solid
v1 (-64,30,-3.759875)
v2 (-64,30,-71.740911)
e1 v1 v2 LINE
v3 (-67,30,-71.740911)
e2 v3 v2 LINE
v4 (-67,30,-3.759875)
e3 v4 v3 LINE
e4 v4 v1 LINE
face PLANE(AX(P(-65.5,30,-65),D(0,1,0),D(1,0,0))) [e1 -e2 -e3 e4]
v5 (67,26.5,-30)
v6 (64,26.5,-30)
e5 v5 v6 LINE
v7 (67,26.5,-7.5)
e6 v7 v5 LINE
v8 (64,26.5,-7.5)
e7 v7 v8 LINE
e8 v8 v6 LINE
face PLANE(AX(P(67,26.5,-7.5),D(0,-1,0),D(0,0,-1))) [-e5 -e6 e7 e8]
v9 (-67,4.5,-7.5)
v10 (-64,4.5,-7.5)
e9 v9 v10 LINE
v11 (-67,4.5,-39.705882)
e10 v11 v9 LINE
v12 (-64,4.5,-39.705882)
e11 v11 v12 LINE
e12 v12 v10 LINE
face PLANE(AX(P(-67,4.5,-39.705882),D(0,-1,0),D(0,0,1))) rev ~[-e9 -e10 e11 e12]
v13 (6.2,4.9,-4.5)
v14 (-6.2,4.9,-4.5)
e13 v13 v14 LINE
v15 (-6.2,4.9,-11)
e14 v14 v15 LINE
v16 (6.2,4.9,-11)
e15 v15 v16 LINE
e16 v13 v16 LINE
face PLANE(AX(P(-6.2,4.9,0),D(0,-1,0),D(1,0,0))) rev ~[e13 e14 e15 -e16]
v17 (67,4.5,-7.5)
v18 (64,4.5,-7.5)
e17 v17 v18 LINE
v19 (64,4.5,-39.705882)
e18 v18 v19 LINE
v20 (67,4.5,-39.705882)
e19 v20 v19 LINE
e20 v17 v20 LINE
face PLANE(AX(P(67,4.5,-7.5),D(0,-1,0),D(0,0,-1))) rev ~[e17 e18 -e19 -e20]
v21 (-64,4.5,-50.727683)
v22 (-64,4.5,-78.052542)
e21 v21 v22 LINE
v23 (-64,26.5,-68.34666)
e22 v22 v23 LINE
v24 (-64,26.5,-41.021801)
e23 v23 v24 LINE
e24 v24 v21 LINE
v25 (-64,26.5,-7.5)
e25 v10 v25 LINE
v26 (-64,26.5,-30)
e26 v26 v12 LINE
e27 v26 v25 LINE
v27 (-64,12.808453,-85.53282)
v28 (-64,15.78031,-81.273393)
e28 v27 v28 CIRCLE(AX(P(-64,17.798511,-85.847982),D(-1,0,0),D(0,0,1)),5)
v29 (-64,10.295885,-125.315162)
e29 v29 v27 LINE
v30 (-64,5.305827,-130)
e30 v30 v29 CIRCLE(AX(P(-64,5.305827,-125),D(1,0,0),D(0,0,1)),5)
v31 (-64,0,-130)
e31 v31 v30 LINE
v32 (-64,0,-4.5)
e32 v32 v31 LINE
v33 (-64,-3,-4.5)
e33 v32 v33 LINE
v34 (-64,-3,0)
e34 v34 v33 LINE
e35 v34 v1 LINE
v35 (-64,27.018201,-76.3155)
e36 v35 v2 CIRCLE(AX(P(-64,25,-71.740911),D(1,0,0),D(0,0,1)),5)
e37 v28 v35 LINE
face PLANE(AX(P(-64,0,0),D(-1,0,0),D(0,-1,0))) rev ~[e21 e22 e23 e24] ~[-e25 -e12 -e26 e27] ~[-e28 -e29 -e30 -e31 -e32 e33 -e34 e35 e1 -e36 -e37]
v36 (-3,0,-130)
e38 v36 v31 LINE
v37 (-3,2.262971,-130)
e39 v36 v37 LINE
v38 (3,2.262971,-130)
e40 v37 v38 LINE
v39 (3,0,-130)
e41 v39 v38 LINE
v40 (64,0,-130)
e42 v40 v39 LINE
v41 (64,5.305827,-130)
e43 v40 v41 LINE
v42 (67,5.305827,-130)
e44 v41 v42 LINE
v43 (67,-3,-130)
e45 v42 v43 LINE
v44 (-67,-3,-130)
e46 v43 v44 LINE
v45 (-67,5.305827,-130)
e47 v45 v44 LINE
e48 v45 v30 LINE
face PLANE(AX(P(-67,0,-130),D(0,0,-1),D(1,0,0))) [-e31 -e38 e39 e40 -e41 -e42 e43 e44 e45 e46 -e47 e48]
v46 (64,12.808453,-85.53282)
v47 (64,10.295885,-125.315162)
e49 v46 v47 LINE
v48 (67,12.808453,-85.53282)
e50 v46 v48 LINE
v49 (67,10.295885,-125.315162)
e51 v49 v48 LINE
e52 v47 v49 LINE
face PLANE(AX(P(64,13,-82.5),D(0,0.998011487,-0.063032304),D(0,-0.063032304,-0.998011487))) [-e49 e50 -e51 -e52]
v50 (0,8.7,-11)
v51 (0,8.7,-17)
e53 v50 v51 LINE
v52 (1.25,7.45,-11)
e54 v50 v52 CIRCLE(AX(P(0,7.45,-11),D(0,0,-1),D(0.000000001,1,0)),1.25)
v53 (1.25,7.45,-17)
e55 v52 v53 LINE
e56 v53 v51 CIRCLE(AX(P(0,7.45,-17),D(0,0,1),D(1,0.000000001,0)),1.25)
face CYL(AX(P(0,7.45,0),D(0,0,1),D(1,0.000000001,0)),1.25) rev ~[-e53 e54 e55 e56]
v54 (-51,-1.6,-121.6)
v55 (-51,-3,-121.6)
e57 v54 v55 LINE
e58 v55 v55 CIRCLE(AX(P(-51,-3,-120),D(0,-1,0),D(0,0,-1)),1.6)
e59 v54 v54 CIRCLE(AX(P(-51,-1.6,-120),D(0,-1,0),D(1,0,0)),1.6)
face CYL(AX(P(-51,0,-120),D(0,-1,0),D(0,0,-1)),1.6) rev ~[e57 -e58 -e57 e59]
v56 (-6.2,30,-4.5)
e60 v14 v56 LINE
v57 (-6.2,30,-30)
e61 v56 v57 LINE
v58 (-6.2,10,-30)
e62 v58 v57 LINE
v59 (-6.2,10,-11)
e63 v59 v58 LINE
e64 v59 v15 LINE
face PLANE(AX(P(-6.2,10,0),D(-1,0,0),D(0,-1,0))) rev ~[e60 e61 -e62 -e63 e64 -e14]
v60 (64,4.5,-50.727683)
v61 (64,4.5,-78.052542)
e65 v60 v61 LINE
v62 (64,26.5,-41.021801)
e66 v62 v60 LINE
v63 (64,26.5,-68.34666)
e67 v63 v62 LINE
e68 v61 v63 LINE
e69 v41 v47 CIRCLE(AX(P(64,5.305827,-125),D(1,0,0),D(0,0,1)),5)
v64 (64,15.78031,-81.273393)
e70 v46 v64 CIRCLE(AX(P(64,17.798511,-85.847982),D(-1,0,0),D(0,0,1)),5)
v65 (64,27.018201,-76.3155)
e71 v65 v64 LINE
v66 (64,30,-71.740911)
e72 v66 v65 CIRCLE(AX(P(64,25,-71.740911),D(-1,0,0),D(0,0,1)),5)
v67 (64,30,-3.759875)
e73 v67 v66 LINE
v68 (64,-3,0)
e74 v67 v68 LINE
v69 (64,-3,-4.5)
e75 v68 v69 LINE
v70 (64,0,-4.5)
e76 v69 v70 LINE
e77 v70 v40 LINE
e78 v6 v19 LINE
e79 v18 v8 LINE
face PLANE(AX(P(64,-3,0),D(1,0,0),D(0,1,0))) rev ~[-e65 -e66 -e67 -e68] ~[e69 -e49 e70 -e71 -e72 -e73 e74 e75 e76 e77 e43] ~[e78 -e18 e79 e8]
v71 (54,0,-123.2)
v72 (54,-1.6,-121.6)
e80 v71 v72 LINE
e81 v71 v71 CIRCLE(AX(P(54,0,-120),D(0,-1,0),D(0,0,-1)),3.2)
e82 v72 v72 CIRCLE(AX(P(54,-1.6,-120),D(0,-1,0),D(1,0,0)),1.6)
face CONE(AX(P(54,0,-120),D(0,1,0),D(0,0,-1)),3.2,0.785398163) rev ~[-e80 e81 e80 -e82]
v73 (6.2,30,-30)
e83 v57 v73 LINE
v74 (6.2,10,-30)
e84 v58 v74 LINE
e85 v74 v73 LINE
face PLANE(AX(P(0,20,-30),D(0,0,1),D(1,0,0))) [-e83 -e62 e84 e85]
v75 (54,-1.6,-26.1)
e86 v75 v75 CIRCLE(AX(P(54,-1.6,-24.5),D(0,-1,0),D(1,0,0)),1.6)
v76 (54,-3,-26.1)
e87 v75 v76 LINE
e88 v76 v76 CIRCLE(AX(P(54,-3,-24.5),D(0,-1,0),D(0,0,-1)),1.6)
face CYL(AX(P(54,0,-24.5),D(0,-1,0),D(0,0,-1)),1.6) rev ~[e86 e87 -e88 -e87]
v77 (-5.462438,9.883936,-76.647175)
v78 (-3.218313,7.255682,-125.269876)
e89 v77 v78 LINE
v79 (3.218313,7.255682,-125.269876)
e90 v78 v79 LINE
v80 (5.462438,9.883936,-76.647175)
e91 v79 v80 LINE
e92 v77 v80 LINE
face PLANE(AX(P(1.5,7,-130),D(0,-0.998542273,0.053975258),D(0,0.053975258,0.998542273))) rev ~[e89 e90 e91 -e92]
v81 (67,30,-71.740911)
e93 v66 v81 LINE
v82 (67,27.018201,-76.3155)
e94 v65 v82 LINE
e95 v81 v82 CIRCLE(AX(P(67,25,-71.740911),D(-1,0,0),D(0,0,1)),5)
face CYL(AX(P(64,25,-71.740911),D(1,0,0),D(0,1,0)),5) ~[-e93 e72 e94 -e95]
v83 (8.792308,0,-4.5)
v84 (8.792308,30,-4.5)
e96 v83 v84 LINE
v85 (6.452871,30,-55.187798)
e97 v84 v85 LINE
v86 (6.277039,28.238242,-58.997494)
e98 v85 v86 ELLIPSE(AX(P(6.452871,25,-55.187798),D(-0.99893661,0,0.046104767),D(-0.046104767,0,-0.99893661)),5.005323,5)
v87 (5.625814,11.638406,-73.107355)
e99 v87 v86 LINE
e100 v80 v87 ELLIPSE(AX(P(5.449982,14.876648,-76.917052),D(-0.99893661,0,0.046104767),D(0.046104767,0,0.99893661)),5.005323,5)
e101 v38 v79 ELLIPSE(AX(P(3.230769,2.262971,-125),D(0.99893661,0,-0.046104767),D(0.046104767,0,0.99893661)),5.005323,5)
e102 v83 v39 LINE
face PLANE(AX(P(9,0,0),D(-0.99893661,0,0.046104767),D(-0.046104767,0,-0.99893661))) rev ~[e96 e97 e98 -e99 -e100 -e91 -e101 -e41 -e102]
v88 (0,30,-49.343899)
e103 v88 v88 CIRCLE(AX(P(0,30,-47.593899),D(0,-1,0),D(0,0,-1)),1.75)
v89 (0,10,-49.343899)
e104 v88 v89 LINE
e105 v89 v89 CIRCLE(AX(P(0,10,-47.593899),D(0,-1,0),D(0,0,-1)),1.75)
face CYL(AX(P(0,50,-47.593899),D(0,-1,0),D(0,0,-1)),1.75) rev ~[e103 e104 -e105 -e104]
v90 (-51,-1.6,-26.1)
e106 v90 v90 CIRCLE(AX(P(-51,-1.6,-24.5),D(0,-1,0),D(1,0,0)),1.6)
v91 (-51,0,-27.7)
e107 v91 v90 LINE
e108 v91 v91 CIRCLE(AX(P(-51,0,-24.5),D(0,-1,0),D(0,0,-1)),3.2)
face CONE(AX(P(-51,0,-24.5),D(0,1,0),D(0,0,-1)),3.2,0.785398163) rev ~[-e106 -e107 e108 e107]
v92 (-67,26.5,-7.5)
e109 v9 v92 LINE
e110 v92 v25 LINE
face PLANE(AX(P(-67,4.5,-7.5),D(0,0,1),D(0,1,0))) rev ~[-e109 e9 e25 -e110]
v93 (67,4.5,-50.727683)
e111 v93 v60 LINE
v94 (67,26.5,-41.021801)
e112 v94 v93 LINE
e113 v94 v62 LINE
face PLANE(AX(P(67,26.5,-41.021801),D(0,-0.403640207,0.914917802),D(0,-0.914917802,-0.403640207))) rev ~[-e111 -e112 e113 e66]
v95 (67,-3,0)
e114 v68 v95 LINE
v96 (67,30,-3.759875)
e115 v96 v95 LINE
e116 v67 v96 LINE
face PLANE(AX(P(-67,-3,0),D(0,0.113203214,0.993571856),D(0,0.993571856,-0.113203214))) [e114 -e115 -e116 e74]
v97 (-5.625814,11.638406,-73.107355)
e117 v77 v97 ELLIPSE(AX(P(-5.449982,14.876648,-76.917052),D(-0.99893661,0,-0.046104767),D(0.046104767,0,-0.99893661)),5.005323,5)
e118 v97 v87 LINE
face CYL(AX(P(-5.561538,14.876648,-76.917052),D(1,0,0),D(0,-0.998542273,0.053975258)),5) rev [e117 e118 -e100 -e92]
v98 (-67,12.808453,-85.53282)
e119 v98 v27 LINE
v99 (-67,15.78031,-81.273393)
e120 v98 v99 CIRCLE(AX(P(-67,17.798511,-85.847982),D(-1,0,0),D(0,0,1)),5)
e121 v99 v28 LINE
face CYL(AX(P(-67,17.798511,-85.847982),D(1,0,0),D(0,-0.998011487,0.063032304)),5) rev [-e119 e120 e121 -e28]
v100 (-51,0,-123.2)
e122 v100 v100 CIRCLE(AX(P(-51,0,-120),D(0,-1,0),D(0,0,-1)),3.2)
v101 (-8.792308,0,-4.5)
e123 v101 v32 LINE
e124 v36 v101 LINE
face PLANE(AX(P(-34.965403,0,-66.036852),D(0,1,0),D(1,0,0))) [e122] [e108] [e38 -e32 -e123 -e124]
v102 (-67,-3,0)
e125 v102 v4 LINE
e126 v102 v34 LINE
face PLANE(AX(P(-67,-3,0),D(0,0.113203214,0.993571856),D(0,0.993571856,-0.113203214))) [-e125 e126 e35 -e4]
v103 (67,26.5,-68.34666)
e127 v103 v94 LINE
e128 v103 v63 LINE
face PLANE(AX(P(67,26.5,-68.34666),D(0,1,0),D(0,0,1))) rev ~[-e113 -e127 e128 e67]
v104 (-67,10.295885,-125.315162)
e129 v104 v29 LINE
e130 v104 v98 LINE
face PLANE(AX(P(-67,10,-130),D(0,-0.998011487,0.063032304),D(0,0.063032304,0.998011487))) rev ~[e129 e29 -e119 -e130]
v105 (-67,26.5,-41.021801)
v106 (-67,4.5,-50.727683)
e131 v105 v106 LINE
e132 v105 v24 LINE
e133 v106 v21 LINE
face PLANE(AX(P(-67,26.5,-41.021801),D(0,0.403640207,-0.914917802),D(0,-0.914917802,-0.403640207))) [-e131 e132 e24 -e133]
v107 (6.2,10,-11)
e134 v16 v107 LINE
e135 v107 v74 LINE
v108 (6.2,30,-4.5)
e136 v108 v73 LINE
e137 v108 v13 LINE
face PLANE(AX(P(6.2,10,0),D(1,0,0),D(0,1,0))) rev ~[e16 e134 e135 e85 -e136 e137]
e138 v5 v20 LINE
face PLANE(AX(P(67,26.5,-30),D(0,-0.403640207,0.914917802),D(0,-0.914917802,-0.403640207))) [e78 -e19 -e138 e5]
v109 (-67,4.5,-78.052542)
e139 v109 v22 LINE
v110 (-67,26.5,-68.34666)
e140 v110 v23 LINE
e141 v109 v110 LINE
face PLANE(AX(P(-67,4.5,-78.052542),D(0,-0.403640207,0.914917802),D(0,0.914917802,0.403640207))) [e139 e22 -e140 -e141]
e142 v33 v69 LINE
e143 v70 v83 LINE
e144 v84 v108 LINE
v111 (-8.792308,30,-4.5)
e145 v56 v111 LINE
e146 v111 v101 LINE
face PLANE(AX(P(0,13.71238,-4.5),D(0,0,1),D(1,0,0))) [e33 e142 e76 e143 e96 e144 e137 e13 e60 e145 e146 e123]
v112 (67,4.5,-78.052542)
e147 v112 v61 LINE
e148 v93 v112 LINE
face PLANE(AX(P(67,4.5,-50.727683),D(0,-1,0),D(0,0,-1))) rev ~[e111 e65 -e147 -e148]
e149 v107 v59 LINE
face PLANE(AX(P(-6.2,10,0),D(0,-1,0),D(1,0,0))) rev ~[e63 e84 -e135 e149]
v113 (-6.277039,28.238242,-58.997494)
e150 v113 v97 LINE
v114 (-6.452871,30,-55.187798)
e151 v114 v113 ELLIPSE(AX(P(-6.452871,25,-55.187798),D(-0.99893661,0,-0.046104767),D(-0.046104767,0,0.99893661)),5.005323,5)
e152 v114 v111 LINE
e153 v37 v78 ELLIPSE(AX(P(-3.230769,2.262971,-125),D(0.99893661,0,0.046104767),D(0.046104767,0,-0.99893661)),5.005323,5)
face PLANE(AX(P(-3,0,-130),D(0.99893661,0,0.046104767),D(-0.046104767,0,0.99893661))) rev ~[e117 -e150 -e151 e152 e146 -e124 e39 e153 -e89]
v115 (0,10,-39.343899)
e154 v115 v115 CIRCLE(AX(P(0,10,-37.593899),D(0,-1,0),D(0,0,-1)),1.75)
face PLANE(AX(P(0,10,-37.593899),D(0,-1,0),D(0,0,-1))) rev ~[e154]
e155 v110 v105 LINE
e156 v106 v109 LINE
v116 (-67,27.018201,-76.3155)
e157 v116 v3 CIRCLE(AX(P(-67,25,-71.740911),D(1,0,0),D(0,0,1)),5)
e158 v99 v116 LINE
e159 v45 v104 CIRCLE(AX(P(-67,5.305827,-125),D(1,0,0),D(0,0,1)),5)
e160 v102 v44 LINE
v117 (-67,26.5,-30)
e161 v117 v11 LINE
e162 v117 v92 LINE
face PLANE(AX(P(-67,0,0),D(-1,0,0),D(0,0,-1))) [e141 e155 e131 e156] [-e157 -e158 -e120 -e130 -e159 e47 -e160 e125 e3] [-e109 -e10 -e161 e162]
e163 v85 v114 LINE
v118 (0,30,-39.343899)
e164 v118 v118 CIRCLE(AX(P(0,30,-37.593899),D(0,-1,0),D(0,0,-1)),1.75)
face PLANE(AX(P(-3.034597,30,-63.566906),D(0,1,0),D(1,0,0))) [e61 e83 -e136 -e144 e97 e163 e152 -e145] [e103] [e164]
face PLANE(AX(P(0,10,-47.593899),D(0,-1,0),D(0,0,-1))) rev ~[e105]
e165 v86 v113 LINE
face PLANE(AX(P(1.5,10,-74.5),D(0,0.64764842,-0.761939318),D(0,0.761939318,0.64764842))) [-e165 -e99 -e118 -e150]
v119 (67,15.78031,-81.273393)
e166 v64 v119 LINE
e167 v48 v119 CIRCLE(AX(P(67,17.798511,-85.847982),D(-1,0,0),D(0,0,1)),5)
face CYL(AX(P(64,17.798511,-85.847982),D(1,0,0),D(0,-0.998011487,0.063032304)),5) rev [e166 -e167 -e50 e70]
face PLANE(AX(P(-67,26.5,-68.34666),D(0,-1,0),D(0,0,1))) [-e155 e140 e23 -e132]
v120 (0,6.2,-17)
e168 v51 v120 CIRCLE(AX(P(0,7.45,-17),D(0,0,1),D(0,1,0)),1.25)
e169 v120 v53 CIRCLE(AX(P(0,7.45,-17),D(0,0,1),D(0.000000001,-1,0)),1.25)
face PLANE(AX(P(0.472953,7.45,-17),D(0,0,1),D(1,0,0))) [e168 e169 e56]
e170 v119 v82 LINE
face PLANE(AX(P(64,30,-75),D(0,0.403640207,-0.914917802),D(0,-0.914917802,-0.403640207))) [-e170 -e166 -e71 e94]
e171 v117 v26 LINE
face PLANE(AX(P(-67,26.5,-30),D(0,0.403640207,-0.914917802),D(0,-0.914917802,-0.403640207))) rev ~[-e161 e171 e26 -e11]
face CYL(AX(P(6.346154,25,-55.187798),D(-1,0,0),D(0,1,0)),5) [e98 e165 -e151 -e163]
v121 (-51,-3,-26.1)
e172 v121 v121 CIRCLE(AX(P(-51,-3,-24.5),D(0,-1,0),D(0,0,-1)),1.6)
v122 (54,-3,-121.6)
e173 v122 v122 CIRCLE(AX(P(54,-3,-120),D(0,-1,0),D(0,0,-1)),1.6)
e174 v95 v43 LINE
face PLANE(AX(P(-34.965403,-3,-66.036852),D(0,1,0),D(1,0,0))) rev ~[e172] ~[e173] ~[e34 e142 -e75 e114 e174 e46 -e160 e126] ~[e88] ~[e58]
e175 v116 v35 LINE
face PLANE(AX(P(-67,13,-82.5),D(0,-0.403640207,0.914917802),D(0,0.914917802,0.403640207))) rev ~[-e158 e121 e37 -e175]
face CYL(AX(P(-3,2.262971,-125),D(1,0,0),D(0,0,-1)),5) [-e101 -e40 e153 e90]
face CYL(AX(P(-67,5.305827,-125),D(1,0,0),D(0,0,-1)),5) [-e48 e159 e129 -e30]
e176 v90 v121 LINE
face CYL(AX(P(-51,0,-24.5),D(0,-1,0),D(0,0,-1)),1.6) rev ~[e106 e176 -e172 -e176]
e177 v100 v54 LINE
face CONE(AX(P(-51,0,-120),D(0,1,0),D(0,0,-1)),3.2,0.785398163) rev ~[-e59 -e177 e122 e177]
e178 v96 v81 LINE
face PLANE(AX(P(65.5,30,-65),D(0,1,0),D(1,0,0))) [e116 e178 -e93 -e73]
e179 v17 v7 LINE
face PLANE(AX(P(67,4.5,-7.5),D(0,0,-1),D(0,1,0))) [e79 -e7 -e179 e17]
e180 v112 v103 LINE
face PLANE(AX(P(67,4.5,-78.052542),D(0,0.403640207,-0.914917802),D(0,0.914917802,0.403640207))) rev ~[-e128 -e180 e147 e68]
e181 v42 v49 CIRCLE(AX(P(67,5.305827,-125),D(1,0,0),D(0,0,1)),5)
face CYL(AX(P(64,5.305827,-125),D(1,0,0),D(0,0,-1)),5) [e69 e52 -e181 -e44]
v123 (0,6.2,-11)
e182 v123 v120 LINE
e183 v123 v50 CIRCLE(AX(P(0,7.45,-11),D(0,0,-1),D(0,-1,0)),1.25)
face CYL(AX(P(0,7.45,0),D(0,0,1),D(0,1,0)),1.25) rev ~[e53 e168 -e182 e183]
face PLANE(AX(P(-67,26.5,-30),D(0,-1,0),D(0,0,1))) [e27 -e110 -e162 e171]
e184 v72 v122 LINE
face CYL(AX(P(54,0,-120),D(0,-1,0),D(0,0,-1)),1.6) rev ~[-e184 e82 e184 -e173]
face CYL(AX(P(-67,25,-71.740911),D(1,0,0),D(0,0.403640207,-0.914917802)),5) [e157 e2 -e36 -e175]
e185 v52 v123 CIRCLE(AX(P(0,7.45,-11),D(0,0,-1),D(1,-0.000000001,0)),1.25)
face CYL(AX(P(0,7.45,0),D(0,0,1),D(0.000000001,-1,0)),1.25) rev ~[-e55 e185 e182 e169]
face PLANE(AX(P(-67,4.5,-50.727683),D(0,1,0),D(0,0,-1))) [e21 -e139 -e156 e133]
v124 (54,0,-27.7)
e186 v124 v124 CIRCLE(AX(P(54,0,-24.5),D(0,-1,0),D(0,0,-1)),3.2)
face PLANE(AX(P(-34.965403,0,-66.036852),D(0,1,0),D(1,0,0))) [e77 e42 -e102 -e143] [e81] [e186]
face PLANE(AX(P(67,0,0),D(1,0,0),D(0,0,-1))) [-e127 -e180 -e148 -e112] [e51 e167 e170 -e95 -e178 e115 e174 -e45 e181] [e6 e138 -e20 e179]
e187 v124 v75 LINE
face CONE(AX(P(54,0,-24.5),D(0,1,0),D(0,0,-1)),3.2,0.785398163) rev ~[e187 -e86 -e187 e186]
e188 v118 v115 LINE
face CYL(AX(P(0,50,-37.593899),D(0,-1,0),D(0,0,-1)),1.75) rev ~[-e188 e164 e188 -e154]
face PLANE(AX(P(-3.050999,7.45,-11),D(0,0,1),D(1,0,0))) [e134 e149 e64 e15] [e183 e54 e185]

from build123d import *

# Parameters (mm, degrees)
SKETCH2_W                      = 3
SKETCH2_H                      = 130
BOSS_EXTRUDE1_DEPTH            = 3
SKETCH2_3_W                    = 3
SKETCH2_3_H                    = 130
BOSS_EXTRUDE2_DEPTH            = 30
CUT_EXTRUDE2_DEPTH             = 3
CUT_EXTRUDE3_DEPTH             = 190.092569923
CUT_EXTRUDE3_DEPTH_BACK        = 3
CUT_EXTRUDE4_REACH             = 151.812
CUT_EXTRUDE4_DIRECTION_2_REACH = 151.812
SKETCH9_W                      = 12.4
SKETCH9_H                      = 20
CUT_EXTRUDE5_DEPTH             = 30
CUT_EXTRUDE6_DEPTH             = 11
CUT_EXTRUDE7_DEPTH             = 4.5
CUT_EXTRUDE8_DEPTH             = 17
SKETCH3_W                      = 22.5
SKETCH3_H                      = 22
CUT_EXTRUDE1_DEPTH             = 3
SKETCH10_W                     = 22.5
SKETCH10_H                     = 22
CUT_EXTRUDE9_DEPTH             = 3
CUT_EXTRUDE10_DEPTH            = 190.092569923
FILLET1_R                      = 5
HOLE1_D                        = 3.5
HOLE1_DEPTH                    = 20
HOLE2_D                        = 3.2
HOLE2_DEPTH                    = 4.737087713
HOLE2_CSINK_D                  = 6.4
HOLE2_CSINK_ANGLE              = 90


with BuildPart() as part:
    # Sketch2 → Boss-Extrude1 (new body)
    with BuildSketch(Plane(origin=(0, 0, 0), x_dir=(1, 0, 0), z_dir=(0, 1, 0))):
        Polygon((-3, 130), (-64, 130), (-64, 0), (-9, 0), align=None)
        with Locations((-65.5, 65)):
            Rectangle(SKETCH2_W, SKETCH2_H)
        Polygon((0, 130), (-3, 130), (-9, 0), (0, 0), align=None)
        Polygon((3, 130), (0, 130), (0, 0), (9, 0), align=None)
        Polygon((64, 130), (3, 130), (9, 0), (64, 0), align=None)
        with Locations((65.5, 65)):
            Rectangle(SKETCH2_W, SKETCH2_H)
    extrude(amount=-BOSS_EXTRUDE1_DEPTH)

    # Sketch2<3> → Boss-Extrude2 (add)
    with BuildSketch(Plane(origin=(0, 0, 0), x_dir=(1, 0, 0), z_dir=(0, 1, 0))):
        Polygon((0, 130), (-3, 130), (-9, 0), (0, 0), align=None)
        Polygon((3, 130), (0, 130), (0, 0), (9, 0), align=None)
        with Locations((-65.5, 65)):
            Rectangle(SKETCH2_3_W, SKETCH2_3_H)
        with Locations((65.5, 65)):
            Rectangle(SKETCH2_3_W, SKETCH2_3_H)
    extrude(amount=BOSS_EXTRUDE2_DEPTH)

    # Sketch5 → Cut-Extrude2 (cut)
    with BuildSketch(Plane.ZY.offset(67)):
        Polygon((-130, 30), (-130, 10), (-82.5, 13), (-75, 30), align=None)
    extrude(amount=-CUT_EXTRUDE2_DEPTH, mode=Mode.SUBTRACT)

    # Sketch6 → Cut-Extrude3 (cut, two sides: drawn at the far end of the back side and taken through both)
    with BuildSketch(Plane(origin=(67, 0, 0), x_dir=(0, 0, -1), z_dir=(1, 0, 0)).offset(-CUT_EXTRUDE3_DEPTH_BACK)):
        Polygon((75, 30), (82.5, 13), (130, 10), (130, 30), align=None)
    extrude(amount=CUT_EXTRUDE3_DEPTH + CUT_EXTRUDE3_DEPTH_BACK, mode=Mode.SUBTRACT)

    # Cut-Extrude4: up to this plane
    cut_extrude4_end = Plane(origin=(-8.980869154, 30, -0.414501653), z_dir=(0.9989366098486855, 0, 0.04610476660840086))
    # Sketch7 → Cut-Extrude4 (cut, up to the surface)
    with BuildSketch(Plane(origin=(1.5, 0, -0.187149168), x_dir=(0, 0, -1), z_dir=(1, 0, 0)), mode=Mode.PRIVATE) as cut_extrude4_sk1:
        Polygon((129.812850832, 7), (74.312850832, 10), (57.312850832, 30), (129.812850832, 30), align=None)
    cut_extrude4_tool1 = split(extrude(cut_extrude4_sk1.sketch, amount=-CUT_EXTRUDE4_REACH, mode=Mode.PRIVATE), bisect_by=cut_extrude4_end, keep=Keep.BOTH, mode=Mode.PRIVATE)
    add(cut_extrude4_tool1.solids().sort_by_distance((1.5, 19.743933, -98.647747))[0], mode=Mode.SUBTRACT)

    # Cut-Extrude4 direction 2: up to this plane
    cut_extrude4_direction_2_end = Plane(origin=(8.980869154, 30, -0.414501653), z_dir=(0.9989366098486855, 0, -0.04610476660840086))
    # Sketch7 → Cut-Extrude4 direction 2 (cut, up to the surface)
    with BuildSketch(Plane(origin=(1.5, 0, -0.187149168), x_dir=(0, 0, -1), z_dir=(1, 0, 0)), mode=Mode.PRIVATE) as cut_extrude4_direction_2_sk1:
        Polygon((129.812850832, 7), (74.312850832, 10), (57.312850832, 30), (129.812850832, 30), align=None)
    cut_extrude4_direction_2_tool1 = split(extrude(cut_extrude4_direction_2_sk1.sketch, amount=CUT_EXTRUDE4_DIRECTION_2_REACH, mode=Mode.PRIVATE), bisect_by=cut_extrude4_direction_2_end, keep=Keep.BOTH, mode=Mode.PRIVATE)
    add(cut_extrude4_direction_2_tool1.solids().sort_by_distance((1.5, 19.743933, -98.647747))[0], mode=Mode.SUBTRACT)

    # Sketch9 → Cut-Extrude5 (cut)
    with BuildSketch(Plane.XY):
        with Locations((0, 20)):
            Rectangle(SKETCH9_W, SKETCH9_H)
    extrude(amount=-CUT_EXTRUDE5_DEPTH, mode=Mode.SUBTRACT)

    # Sketch9<3> → Cut-Extrude6 (cut)
    with BuildSketch(Plane.XY):
        with BuildLine():
            Line((0, 10), (-6.2, 10))
            Line((-6.2, 10), (-6.2, 4.9))
            Line((-6.2, 4.9), (0, 4.9))
            Line((0, 4.9), (0, 6.2))
            ThreePointArc((0, 6.2), (-1.25, 7.45), (0, 8.7))
            Line((0, 8.7), (0, 10))
        make_face()
        with BuildLine():
            Line((6.2, 4.9), (6.2, 10))
            Line((6.2, 10), (0, 10))
            Line((0, 10), (0, 8.7))
            ThreePointArc((0, 8.7), (0.883883476, 8.333883476), (1.25, 7.45))
            ThreePointArc((1.25, 7.45), (0.883883476, 6.566116524), (0, 6.2))
            Line((0, 6.2), (0, 4.9))
            Line((0, 4.9), (6.2, 4.9))
        make_face()
    extrude(amount=-CUT_EXTRUDE6_DEPTH, mode=Mode.SUBTRACT)

    # Sketch9<4> → Cut-Extrude7 (cut)
    with BuildSketch(Plane.XY):
        Polygon((-6.2, 10), (-6.2, 30), (-9, 30), (-9, 0), (9, 0), (9, 30), (6.2, 30), (6.2, 10), (6.2, 4.9), (-6.2, 4.9), align=None)
        Polygon((9, 0), (-9, 0), (-64, 0), (-64, -3), (64, -3), (64, 0), align=None)
    extrude(amount=-CUT_EXTRUDE7_DEPTH, mode=Mode.SUBTRACT)

    # Sketch9<5> → Cut-Extrude8 (cut)
    with BuildSketch(Plane.XY):
        with BuildLine():
            ThreePointArc((1.25, 7.45), (0.883883476, 8.333883476), (0, 8.7))
            Line((0, 8.7), (0, 6.2))
            ThreePointArc((0, 6.2), (0.883883476, 6.566116524), (1.25, 7.45))
        make_face()
        with BuildLine():
            Line((0, 6.2), (0, 8.7))
            ThreePointArc((0, 8.7), (-1.25, 7.45), (0, 6.2))
        make_face()
    extrude(amount=-CUT_EXTRUDE8_DEPTH, mode=Mode.SUBTRACT)

    # Sketch3 → Cut-Extrude1 (cut)
    with BuildSketch(Plane.ZY.offset(67)):
        Polygon((-50.727683193, 4.5), (-78.052542275, 4.5), (-68.346659922, 26.5), (-41.02180084, 26.5), align=None)
        with Locations((-18.75, 15.5)):
            Rectangle(SKETCH3_W, SKETCH3_H)
        Polygon((-30, 4.5), (-30, 26.5), (-39.705882353, 4.5), align=None)
    extrude(amount=-CUT_EXTRUDE1_DEPTH, mode=Mode.SUBTRACT)

    # Sketch10 → Cut-Extrude9 (cut)
    with BuildSketch(Plane(origin=(67, 0, 0), x_dir=(0, 0, -1), z_dir=(1, 0, 0))):
        with Locations((18.75, 15.5)):
            Rectangle(SKETCH10_W, SKETCH10_H)
        Polygon((30, 4.5), (30, 26.5), (39.705882353, 4.5), align=None)
        Polygon((50.727683193, 4.5), (78.052542275, 4.5), (68.346659922, 26.5), (41.02180084, 26.5), align=None)
    extrude(amount=-CUT_EXTRUDE9_DEPTH, mode=Mode.SUBTRACT)

    # Sketch11 → Cut-Extrude10 (cut, through all)
    with BuildSketch(Plane.ZY.offset(67)):
        Polygon((0, -3), (-3.759875074, 30), (0, 30), align=None)
    extrude(amount=-CUT_EXTRUDE10_DEPTH, mode=Mode.SUBTRACT)

    # Fillet1
    fillet1_edges = [part.edges().sort_by_distance(p)[0] for p in [
        (-65.5, 30, -75),
        (-65.5, 10, -130),
        (-65.5, 13, -82.5),
        (65.5, 30, -75),
        (65.5, 13, -82.5),
        (65.5, 10, -130),
        (0, 10, -74.5),
        (0, 30, -57.5),
        (0, 7, -130),
    ]]
    fillet(fillet1_edges, radius=FILLET1_R)

    # Hole1
    with Locations(Plane(origin=(0, 30, -47.593898813), x_dir=(0, 0, 1), z_dir=(0, 1, 0))):
        with Locations((0, 0), (10, 0)):
            Hole(HOLE1_D / 2, depth=HOLE1_DEPTH)

    # Hole2
    with Locations(Plane(origin=(-51, 0, -120), x_dir=(0, 0, 1), z_dir=(0, 1, 0))):
        with Locations((0, 0), (0, 105), (95.5, 105), (95.5, 0)):
            CounterSinkHole(HOLE2_D / 2, HOLE2_CSINK_D / 2, depth=HOLE2_DEPTH, counter_sink_angle=HOLE2_CSINK_ANGLE)


solid = part.part
